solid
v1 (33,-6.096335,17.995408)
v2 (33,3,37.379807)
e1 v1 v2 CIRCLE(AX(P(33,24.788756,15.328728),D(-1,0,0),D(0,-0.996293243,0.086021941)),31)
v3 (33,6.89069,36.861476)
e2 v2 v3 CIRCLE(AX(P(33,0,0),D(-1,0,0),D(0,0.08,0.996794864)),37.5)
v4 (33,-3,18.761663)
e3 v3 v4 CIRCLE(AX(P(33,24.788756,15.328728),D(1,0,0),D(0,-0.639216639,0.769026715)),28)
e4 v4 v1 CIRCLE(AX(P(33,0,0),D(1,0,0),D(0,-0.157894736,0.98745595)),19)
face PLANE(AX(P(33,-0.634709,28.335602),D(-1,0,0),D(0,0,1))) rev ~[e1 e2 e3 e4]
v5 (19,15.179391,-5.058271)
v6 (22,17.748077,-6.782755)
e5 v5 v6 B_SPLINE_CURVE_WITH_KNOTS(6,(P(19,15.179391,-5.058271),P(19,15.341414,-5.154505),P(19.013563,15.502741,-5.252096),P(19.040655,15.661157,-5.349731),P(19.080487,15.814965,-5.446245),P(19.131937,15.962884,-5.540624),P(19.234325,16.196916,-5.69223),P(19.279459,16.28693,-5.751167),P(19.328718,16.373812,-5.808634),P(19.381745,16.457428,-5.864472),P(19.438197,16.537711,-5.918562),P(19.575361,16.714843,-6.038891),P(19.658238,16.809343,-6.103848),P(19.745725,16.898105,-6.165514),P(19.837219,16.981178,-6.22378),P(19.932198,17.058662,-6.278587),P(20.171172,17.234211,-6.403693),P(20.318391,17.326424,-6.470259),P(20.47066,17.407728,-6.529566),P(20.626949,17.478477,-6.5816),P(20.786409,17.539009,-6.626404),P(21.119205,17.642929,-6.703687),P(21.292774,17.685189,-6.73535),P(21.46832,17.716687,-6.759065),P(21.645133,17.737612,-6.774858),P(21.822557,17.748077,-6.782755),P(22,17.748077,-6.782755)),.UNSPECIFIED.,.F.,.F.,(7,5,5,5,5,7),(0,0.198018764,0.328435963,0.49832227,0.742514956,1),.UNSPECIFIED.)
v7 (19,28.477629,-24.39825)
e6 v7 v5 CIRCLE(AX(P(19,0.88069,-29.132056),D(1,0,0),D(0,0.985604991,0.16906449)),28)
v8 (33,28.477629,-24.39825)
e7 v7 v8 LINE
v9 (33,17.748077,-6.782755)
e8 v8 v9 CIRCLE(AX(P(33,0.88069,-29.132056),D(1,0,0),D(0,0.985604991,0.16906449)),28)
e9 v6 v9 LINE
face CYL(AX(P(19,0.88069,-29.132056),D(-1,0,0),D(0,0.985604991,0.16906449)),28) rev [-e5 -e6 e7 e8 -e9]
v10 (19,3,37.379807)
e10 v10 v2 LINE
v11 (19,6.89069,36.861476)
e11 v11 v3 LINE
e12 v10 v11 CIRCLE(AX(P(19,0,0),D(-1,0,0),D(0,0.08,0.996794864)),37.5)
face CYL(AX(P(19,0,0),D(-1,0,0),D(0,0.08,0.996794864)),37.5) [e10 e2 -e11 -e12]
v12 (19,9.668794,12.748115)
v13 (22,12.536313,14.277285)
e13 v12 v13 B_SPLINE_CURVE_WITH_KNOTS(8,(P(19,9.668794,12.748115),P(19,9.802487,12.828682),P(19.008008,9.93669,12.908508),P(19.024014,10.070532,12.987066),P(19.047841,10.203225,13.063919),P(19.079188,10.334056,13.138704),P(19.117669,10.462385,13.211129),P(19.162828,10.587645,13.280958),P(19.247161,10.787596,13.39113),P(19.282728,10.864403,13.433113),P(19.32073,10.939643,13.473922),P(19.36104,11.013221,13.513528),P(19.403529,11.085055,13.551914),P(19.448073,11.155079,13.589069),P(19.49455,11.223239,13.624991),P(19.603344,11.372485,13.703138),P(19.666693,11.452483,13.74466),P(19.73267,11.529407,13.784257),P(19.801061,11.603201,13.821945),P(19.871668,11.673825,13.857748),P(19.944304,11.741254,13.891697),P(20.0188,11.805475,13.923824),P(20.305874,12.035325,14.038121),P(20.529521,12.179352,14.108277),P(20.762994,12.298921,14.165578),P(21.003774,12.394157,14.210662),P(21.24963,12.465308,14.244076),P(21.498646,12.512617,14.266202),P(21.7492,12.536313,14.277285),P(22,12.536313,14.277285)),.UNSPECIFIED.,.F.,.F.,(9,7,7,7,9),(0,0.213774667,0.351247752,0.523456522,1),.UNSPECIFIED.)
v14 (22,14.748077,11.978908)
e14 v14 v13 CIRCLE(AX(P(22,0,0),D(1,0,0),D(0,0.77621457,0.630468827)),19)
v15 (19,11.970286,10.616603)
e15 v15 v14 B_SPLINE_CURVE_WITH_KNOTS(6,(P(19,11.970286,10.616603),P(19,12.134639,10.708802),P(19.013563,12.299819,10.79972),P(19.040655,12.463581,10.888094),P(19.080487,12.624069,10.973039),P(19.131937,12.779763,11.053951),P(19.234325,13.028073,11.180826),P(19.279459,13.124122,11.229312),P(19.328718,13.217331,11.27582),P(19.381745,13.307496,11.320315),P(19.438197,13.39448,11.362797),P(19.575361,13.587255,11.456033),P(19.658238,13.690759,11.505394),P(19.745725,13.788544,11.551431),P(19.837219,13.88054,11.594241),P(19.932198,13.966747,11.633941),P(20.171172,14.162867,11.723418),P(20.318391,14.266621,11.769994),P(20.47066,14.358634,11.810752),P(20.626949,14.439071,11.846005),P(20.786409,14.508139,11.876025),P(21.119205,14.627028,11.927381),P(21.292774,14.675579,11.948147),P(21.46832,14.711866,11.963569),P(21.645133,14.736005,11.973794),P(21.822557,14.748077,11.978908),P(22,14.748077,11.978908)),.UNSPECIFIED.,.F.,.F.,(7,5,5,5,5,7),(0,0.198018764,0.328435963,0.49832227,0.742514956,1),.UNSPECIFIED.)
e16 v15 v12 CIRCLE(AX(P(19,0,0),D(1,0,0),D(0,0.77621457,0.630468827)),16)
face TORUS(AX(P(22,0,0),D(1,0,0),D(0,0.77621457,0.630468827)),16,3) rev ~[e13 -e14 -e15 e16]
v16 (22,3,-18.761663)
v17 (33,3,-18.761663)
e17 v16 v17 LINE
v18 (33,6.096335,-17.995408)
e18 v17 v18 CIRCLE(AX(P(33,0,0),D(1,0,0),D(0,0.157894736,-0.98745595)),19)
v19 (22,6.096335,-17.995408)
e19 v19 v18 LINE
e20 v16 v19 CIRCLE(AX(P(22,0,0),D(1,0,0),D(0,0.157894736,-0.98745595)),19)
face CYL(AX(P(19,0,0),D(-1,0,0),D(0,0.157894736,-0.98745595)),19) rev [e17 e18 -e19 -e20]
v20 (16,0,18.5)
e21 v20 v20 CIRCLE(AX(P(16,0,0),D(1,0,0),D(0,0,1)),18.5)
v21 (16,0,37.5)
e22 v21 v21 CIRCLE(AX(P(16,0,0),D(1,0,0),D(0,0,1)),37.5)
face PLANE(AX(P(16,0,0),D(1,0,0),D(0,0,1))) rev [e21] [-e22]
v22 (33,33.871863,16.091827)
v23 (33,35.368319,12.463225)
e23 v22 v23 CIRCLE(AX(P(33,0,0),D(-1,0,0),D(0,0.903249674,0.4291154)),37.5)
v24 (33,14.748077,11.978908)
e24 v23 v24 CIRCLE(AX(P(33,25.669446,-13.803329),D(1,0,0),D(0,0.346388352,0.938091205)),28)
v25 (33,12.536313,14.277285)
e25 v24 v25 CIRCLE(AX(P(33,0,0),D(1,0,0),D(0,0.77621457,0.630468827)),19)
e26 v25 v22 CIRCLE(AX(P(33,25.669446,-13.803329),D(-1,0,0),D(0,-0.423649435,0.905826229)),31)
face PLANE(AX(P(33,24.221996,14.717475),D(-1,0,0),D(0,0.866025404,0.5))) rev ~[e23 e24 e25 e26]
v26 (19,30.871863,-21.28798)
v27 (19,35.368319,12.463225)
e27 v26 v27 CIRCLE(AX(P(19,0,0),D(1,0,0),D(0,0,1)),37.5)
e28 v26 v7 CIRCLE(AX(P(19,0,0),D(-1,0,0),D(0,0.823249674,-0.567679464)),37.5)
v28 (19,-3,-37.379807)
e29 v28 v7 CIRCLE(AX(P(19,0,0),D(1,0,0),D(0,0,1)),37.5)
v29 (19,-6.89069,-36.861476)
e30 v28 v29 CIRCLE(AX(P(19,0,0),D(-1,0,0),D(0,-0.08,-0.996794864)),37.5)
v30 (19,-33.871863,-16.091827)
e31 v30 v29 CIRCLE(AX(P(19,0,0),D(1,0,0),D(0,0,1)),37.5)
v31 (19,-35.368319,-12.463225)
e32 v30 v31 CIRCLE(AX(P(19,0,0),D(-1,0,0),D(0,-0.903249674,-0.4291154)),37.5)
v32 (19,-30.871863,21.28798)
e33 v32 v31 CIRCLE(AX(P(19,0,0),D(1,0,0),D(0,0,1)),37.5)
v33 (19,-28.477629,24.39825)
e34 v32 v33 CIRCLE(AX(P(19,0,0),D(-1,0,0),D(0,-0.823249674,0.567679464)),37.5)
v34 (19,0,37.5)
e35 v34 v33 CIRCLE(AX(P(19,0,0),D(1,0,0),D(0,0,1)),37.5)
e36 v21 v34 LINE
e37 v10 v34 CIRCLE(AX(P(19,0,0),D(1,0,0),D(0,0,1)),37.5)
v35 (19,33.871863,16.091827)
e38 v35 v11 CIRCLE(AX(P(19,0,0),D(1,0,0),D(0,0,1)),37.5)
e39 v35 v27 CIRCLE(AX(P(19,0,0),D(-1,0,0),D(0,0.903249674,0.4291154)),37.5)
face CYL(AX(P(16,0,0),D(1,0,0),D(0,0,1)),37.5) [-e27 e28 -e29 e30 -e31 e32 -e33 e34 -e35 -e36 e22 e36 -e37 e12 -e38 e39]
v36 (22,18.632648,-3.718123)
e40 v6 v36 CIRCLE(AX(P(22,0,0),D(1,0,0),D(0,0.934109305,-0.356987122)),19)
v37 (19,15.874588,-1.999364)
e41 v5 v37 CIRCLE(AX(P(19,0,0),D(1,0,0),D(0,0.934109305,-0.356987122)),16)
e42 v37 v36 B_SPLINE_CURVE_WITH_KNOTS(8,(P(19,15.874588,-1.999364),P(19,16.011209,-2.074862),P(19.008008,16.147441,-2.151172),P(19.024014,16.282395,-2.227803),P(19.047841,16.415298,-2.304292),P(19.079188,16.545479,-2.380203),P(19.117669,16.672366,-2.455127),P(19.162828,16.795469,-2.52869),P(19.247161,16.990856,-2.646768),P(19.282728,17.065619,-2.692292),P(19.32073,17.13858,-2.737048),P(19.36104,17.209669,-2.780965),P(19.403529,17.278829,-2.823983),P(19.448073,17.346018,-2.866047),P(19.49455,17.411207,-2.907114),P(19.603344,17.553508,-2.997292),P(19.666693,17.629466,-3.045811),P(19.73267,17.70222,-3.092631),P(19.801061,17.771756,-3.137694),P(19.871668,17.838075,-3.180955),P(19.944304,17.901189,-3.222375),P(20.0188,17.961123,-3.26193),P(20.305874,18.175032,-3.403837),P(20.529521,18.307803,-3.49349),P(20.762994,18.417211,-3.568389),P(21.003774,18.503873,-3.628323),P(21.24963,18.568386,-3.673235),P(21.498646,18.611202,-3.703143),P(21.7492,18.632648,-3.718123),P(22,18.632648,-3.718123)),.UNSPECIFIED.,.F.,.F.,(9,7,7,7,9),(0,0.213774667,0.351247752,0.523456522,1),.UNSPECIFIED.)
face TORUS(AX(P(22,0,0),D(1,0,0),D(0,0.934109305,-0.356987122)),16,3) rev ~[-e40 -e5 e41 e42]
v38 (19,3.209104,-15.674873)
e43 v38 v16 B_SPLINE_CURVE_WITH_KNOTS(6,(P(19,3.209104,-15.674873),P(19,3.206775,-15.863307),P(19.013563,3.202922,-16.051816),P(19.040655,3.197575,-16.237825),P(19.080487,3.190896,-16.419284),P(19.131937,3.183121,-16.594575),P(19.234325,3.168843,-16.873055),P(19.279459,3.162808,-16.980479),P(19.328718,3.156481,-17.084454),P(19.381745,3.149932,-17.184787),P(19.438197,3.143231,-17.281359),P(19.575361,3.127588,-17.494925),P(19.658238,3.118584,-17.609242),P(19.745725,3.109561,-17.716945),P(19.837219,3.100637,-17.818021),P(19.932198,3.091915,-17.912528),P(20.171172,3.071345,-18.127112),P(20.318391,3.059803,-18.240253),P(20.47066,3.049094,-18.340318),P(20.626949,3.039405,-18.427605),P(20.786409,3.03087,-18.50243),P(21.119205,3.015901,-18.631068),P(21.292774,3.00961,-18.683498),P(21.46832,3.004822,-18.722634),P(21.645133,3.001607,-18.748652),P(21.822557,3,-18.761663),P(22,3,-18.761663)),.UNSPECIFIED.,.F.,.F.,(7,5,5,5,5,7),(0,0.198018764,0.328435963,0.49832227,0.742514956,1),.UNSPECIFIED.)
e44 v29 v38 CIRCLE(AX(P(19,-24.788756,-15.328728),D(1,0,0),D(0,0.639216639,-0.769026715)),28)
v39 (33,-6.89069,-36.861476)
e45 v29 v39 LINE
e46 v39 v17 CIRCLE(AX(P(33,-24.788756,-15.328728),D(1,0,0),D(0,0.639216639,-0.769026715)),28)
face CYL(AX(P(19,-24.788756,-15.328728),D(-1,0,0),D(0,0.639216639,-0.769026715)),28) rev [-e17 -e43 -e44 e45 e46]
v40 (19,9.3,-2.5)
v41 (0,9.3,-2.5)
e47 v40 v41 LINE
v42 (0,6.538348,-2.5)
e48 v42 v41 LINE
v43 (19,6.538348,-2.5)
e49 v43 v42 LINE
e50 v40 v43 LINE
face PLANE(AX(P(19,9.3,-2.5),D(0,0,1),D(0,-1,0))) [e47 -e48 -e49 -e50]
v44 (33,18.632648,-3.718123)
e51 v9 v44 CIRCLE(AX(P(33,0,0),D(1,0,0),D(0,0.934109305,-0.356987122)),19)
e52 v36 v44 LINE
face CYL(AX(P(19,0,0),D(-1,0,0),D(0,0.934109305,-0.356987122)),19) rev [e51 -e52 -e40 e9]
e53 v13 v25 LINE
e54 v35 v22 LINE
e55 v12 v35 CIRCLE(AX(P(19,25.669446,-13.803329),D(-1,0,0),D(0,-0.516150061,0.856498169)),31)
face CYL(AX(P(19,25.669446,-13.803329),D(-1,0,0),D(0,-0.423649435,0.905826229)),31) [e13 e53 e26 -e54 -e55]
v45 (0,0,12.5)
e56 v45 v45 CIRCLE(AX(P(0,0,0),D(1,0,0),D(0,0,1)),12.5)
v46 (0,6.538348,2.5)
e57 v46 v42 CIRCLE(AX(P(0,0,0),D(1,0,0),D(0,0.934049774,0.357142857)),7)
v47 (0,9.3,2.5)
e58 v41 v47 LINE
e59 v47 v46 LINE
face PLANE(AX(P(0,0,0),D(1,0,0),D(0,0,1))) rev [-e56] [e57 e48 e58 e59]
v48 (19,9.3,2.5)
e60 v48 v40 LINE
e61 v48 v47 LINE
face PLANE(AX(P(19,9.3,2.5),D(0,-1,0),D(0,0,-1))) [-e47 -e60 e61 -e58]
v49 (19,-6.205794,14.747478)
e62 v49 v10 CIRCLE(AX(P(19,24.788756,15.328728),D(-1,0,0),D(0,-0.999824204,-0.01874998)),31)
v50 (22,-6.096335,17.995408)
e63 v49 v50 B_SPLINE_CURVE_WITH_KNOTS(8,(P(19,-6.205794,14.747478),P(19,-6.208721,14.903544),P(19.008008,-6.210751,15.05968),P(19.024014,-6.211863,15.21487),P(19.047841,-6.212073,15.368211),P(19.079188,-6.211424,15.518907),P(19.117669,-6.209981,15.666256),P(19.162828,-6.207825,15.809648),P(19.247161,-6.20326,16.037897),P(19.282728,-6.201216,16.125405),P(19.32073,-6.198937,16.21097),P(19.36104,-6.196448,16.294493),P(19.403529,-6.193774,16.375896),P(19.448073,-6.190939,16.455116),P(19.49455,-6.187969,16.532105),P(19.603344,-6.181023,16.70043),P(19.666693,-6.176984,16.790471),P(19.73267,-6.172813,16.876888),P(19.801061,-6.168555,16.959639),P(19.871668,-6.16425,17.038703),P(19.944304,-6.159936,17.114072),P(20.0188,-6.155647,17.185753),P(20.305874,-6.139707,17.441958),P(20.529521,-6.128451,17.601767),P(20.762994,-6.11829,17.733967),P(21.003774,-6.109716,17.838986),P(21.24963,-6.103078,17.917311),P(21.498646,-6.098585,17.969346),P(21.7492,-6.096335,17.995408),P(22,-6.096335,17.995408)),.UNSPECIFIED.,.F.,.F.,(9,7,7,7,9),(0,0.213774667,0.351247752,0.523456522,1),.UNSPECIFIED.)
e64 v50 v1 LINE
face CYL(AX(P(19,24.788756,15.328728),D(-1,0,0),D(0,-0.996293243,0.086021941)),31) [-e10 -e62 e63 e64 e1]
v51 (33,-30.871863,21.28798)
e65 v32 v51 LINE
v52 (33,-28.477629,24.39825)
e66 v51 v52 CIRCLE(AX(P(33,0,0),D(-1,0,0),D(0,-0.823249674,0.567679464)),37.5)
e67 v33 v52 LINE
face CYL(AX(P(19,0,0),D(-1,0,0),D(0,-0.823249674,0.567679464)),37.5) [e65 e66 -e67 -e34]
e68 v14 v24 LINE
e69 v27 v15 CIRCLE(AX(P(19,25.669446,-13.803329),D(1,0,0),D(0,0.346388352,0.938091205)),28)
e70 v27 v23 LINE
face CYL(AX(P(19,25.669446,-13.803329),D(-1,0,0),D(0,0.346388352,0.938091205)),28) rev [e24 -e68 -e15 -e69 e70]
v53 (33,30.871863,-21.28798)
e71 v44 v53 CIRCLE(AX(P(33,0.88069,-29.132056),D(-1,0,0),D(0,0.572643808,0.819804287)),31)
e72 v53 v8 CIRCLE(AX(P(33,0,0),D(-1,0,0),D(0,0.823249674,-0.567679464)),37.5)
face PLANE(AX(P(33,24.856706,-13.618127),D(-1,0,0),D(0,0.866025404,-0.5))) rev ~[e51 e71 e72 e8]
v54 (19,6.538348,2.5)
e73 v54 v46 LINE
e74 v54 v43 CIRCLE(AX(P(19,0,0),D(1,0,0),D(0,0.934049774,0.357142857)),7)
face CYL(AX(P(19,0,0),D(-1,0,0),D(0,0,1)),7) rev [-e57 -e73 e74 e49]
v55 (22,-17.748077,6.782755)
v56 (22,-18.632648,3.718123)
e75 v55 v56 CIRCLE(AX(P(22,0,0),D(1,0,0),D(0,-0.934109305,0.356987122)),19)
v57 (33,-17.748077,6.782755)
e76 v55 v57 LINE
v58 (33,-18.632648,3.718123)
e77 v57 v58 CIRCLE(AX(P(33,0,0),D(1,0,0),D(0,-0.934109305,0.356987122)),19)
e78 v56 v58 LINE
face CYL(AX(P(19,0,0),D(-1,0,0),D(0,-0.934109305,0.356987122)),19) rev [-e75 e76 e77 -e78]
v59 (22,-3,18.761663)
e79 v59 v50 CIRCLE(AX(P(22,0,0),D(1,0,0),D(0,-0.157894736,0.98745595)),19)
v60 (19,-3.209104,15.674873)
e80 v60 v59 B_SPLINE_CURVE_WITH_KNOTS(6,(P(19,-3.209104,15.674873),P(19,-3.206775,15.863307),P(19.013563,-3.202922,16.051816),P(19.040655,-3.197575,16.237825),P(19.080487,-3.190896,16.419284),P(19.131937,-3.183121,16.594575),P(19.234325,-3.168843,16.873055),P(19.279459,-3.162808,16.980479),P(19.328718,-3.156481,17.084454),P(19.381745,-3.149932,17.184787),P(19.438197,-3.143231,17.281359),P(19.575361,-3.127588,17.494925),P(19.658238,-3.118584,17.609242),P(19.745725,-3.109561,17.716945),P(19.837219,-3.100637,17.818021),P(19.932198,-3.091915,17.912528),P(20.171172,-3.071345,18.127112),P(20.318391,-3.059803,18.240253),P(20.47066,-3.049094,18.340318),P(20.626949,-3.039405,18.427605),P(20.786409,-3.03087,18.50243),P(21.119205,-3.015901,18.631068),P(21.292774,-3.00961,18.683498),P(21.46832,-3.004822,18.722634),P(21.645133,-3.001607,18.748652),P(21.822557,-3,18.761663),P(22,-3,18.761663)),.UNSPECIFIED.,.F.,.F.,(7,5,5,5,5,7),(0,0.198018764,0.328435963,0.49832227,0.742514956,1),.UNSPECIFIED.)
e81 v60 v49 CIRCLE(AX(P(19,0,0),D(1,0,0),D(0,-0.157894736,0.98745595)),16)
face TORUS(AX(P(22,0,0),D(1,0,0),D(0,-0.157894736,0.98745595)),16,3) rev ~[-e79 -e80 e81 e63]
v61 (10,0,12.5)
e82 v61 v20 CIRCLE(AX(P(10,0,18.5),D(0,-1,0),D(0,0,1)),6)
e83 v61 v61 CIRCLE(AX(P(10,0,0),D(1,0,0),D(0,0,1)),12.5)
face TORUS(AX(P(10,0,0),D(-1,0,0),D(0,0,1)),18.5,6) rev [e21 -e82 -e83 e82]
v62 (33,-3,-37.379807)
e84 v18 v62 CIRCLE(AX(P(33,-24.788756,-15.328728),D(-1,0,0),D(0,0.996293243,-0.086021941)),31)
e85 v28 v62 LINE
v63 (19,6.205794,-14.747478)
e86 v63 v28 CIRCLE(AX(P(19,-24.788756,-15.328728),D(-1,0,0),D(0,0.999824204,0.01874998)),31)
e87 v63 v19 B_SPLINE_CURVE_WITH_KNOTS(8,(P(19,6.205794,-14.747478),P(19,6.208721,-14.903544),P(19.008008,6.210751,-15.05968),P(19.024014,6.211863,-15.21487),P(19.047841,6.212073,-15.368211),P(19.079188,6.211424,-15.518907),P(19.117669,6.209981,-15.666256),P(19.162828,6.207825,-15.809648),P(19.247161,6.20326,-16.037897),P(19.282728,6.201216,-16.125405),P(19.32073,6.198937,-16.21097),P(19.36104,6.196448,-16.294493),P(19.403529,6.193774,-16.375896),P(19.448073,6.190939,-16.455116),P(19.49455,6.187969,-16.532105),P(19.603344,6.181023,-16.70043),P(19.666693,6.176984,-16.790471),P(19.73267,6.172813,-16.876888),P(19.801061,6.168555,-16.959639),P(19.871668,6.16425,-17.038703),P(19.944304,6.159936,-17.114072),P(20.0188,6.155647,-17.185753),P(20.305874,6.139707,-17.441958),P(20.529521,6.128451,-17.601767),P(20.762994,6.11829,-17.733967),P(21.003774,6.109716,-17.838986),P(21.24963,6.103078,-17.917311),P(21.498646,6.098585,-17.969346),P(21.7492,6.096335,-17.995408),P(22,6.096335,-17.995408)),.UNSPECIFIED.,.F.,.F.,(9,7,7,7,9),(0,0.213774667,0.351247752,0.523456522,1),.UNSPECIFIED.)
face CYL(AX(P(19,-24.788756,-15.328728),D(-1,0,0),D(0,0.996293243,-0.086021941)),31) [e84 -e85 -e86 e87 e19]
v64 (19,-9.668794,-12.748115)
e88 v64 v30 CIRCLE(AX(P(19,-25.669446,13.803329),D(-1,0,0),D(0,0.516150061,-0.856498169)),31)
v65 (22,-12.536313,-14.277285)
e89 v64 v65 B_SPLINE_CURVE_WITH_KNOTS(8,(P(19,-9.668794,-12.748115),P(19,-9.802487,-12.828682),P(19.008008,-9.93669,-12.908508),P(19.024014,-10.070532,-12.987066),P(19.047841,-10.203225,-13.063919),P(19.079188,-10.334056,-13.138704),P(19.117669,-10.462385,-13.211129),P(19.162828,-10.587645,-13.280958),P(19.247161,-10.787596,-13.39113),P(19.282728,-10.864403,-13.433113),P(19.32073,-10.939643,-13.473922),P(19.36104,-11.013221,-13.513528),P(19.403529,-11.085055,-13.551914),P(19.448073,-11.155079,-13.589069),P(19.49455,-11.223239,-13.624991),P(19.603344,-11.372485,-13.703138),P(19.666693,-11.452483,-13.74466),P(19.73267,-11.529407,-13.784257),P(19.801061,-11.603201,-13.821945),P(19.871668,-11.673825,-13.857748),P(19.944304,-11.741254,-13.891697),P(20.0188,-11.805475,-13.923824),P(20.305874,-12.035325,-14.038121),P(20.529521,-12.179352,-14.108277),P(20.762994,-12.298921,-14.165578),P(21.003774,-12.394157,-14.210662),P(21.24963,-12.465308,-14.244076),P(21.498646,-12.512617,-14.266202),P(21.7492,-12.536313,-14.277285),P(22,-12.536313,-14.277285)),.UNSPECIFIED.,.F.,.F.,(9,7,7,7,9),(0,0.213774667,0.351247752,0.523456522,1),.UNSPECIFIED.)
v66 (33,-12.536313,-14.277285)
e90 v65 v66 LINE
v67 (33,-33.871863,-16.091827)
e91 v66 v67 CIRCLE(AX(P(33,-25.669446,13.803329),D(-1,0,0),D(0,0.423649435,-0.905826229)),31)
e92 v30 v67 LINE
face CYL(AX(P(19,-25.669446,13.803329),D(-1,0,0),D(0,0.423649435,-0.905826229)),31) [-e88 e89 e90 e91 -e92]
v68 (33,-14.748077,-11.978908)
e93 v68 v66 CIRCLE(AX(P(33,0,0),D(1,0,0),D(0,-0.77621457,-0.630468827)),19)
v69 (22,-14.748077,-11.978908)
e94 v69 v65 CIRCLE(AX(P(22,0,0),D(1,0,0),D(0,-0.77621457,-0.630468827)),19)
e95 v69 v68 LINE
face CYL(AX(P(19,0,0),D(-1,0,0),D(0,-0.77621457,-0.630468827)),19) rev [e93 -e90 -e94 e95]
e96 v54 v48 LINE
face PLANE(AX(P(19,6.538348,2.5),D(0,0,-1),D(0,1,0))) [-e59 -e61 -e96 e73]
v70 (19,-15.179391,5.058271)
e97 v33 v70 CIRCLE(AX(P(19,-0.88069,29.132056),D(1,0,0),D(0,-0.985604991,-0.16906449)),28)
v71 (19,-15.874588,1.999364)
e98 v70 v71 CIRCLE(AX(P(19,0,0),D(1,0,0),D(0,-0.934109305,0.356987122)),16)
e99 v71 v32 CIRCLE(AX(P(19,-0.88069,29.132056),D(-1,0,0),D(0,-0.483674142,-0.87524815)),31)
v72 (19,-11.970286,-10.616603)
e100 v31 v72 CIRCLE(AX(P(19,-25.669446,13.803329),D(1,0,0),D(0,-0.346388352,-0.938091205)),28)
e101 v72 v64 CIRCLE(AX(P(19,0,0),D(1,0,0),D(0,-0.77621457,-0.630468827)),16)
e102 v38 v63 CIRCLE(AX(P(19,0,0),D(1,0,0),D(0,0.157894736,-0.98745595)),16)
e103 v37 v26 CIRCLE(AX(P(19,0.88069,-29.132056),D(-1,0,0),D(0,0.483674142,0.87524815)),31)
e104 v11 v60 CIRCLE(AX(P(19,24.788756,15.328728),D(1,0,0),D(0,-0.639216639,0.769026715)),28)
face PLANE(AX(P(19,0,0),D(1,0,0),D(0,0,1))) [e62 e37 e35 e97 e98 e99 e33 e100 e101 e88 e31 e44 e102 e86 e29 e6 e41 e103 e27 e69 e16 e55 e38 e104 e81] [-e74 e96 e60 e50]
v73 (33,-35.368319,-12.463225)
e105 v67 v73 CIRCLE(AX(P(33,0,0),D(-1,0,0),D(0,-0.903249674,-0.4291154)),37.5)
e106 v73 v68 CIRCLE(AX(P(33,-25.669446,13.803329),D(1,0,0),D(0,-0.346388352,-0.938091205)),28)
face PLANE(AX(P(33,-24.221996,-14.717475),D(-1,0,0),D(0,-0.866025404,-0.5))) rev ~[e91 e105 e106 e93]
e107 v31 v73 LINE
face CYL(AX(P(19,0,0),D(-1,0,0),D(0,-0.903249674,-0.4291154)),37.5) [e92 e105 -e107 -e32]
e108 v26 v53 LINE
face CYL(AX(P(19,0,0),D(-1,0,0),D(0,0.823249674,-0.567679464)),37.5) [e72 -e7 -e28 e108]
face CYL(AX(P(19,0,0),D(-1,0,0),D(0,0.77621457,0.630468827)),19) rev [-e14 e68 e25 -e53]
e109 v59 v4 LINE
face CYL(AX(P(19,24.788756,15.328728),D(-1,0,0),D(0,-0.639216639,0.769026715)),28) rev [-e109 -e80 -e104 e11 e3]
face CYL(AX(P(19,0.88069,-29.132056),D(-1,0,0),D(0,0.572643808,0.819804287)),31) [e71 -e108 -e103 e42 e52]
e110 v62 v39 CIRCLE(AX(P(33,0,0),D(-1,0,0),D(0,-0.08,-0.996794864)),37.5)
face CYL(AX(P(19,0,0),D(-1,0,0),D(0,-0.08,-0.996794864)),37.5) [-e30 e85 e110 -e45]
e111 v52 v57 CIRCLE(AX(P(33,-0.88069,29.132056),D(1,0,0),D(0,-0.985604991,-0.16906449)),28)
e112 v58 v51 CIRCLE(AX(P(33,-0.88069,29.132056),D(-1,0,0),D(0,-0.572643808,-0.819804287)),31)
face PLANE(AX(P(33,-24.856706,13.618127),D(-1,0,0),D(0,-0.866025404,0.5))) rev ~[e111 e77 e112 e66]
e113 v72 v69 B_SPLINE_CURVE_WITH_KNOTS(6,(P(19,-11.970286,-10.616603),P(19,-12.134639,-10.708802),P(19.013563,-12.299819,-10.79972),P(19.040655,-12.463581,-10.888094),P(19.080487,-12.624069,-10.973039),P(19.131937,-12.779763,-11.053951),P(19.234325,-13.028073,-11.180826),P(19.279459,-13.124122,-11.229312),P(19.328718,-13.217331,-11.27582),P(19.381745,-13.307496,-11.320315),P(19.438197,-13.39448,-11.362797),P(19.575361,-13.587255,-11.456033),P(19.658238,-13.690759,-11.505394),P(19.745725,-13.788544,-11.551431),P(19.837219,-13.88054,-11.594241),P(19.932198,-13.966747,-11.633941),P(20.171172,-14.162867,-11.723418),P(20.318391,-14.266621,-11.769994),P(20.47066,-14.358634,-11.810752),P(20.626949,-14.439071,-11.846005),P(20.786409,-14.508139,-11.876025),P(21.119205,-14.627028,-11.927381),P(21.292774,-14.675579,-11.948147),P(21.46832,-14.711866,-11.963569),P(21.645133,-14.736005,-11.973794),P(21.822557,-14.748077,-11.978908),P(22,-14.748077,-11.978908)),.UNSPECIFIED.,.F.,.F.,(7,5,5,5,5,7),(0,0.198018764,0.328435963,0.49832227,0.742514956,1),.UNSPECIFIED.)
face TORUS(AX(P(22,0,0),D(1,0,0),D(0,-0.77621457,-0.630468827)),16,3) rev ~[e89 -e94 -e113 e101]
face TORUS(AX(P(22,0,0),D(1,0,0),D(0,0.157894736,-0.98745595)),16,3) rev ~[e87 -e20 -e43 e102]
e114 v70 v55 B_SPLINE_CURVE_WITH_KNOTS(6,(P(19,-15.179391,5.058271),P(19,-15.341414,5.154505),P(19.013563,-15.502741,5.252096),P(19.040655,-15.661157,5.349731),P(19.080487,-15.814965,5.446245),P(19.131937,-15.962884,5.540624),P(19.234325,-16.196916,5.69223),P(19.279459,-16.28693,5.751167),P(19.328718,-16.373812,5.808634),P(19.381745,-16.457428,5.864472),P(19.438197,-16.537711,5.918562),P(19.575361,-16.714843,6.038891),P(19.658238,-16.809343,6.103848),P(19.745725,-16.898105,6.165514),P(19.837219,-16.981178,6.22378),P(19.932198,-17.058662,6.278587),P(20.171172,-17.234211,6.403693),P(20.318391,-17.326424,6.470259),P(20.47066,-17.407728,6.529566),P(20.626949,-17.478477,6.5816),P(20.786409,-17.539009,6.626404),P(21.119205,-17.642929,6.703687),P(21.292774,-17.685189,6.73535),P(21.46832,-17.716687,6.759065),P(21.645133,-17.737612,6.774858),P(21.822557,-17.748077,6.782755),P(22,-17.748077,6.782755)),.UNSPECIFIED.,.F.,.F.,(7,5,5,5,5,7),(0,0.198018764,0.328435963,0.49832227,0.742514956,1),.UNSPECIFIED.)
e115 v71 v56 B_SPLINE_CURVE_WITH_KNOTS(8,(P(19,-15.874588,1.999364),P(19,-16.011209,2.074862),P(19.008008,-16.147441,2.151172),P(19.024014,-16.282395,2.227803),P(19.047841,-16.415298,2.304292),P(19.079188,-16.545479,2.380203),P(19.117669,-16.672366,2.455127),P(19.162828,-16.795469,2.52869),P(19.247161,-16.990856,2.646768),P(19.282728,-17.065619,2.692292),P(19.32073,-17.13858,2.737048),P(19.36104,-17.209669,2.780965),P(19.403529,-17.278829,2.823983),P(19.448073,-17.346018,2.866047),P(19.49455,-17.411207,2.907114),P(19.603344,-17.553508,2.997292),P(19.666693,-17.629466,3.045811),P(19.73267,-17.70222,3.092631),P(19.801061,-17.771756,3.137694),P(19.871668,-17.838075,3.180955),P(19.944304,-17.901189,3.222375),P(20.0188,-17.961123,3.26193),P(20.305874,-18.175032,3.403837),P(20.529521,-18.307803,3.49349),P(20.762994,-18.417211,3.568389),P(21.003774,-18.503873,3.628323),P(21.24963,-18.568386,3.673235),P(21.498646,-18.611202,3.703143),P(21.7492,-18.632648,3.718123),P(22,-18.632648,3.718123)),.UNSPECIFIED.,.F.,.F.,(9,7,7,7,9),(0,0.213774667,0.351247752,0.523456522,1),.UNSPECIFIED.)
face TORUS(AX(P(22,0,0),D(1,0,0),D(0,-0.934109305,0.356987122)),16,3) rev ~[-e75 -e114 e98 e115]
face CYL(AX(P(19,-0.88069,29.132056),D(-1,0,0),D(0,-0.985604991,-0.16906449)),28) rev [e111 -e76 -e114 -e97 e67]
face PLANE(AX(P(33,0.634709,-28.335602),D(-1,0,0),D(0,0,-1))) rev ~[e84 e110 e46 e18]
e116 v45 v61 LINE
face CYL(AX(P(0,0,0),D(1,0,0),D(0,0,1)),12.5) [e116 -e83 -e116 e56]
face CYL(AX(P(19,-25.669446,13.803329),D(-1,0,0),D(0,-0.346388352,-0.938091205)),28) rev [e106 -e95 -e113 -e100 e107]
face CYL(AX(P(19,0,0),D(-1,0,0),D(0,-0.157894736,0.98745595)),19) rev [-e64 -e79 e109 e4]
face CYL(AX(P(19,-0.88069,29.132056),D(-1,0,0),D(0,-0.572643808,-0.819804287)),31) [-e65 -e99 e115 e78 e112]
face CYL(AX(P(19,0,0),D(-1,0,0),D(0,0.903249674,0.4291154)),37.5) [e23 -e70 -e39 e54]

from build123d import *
from build123d.topology import SkipClean

# Parameters (mm, degrees)
FILLET1_R                = 6
CUT_EXTRUDE1_DEPTH       = 20
BOSS_EXTRUDE1_DEPTH      = 14
FILLET2_R                = 3
CIRPATTERN1_COUNT        = 6
FILLET2_OF_CIRPATTERN1_R = 3


with BuildPart() as part:
    # Sketch1 → Revolve1 (revolve)
    with BuildSketch(Plane.XY, mode=Mode.PRIVATE) as revolve1_sk:
        Polygon((0, 7), (0, 12.5), (16, 12.5), (16, 37.5), (19, 37.5), (19, 7), align=None)
    revolve(revolve1_sk.sketch.rotate(Axis((-91.900691054, 0, 0), (1, 0, 0)), 90), axis=Axis((-91.900691054, 0, 0), (1, 0, 0)))  # turned: the seam where the file's is

    # Fillet1
    fillet1_edges = [part.edges().sort_by_distance(p)[0] for p in [
        (16, 0, -12.5),
    ]]
    fillet(fillet1_edges, radius=FILLET1_R)

    # Sketch2 → Cut-Extrude1 (cut, through all)
    with BuildSketch(Plane(origin=(19, 0, 0), x_dir=(0, 0, -1), z_dir=(1, 0, 0))):
        with BuildLine():
            Line((-2.5, 6.538348415), (-2.5, 9.3))
            Line((-2.5, 9.3), (2.5, 9.3))
            Line((2.5, 9.3), (2.5, 6.538348415))
            ThreePointArc((2.5, 6.538348415), (0, -7), (-2.5, 6.538348415))
        make_face()
    extrude(amount=-CUT_EXTRUDE1_DEPTH, mode=Mode.SUBTRACT)

    # Sketch3 → Boss-Extrude1 (add)
    with BuildSketch(Plane(origin=(19, 0, 0), x_dir=(0, 0, -1), z_dir=(1, 0, 0))):
        with BuildLine():
            ThreePointArc((-36.861475704, 6.890690018), (-28.755483578, 0.217996332), (-18.761663039, -3))
            ThreePointArc((-18.761663039, -3), (-18.443627284, -4.564275696), (-17.995407864, -6.09633462))
            ThreePointArc((-17.995407864, -6.09633462), (-28.49792429, -3.274961963), (-37.379807383, 3))
            ThreePointArc((-37.379807383, 3), (-37.171580486, 4.952131277), (-36.861475704, 6.890690018))
        make_face()
    boss_extrude1 = extrude(amount=BOSS_EXTRUDE1_DEPTH)

    # Fillet2
    fillet2_edges = [part.edges().sort_by_distance(p)[0] for p in [
        (19, -4.564275696, 18.443627284),
    ]]
    fillet(fillet2_edges, radius=FILLET2_R)

    # CirPattern1: Boss-Extrude1 ×6 about axis
    with SkipClean():  # keep this step's faces unmerged: merging them makes the solid invalid here
        cirpattern1_axis = Axis((0, 0, 0), (1, 0, 0))
        for i in range(1, CIRPATTERN1_COUNT):
            add(boss_extrude1.rotate(cirpattern1_axis, i * 360 / CIRPATTERN1_COUNT))

    # Fillet2 of CirPattern1
    fillet2_of_cirpattern1_edges = [part.edges().sort_by_distance(p)[0] for p in [
        (19, -18.254787613, 5.269034939),
        (19, -13.690511918, -13.174592344),
        (19, 4.564275696, -18.443627284),
        (19, 18.254787613, -5.269034939),
        (19, 13.690511918, 13.174592344),
    ]]
    fillet(fillet2_of_cirpattern1_edges, radius=FILLET2_OF_CIRPATTERN1_R)


solid = part.part
